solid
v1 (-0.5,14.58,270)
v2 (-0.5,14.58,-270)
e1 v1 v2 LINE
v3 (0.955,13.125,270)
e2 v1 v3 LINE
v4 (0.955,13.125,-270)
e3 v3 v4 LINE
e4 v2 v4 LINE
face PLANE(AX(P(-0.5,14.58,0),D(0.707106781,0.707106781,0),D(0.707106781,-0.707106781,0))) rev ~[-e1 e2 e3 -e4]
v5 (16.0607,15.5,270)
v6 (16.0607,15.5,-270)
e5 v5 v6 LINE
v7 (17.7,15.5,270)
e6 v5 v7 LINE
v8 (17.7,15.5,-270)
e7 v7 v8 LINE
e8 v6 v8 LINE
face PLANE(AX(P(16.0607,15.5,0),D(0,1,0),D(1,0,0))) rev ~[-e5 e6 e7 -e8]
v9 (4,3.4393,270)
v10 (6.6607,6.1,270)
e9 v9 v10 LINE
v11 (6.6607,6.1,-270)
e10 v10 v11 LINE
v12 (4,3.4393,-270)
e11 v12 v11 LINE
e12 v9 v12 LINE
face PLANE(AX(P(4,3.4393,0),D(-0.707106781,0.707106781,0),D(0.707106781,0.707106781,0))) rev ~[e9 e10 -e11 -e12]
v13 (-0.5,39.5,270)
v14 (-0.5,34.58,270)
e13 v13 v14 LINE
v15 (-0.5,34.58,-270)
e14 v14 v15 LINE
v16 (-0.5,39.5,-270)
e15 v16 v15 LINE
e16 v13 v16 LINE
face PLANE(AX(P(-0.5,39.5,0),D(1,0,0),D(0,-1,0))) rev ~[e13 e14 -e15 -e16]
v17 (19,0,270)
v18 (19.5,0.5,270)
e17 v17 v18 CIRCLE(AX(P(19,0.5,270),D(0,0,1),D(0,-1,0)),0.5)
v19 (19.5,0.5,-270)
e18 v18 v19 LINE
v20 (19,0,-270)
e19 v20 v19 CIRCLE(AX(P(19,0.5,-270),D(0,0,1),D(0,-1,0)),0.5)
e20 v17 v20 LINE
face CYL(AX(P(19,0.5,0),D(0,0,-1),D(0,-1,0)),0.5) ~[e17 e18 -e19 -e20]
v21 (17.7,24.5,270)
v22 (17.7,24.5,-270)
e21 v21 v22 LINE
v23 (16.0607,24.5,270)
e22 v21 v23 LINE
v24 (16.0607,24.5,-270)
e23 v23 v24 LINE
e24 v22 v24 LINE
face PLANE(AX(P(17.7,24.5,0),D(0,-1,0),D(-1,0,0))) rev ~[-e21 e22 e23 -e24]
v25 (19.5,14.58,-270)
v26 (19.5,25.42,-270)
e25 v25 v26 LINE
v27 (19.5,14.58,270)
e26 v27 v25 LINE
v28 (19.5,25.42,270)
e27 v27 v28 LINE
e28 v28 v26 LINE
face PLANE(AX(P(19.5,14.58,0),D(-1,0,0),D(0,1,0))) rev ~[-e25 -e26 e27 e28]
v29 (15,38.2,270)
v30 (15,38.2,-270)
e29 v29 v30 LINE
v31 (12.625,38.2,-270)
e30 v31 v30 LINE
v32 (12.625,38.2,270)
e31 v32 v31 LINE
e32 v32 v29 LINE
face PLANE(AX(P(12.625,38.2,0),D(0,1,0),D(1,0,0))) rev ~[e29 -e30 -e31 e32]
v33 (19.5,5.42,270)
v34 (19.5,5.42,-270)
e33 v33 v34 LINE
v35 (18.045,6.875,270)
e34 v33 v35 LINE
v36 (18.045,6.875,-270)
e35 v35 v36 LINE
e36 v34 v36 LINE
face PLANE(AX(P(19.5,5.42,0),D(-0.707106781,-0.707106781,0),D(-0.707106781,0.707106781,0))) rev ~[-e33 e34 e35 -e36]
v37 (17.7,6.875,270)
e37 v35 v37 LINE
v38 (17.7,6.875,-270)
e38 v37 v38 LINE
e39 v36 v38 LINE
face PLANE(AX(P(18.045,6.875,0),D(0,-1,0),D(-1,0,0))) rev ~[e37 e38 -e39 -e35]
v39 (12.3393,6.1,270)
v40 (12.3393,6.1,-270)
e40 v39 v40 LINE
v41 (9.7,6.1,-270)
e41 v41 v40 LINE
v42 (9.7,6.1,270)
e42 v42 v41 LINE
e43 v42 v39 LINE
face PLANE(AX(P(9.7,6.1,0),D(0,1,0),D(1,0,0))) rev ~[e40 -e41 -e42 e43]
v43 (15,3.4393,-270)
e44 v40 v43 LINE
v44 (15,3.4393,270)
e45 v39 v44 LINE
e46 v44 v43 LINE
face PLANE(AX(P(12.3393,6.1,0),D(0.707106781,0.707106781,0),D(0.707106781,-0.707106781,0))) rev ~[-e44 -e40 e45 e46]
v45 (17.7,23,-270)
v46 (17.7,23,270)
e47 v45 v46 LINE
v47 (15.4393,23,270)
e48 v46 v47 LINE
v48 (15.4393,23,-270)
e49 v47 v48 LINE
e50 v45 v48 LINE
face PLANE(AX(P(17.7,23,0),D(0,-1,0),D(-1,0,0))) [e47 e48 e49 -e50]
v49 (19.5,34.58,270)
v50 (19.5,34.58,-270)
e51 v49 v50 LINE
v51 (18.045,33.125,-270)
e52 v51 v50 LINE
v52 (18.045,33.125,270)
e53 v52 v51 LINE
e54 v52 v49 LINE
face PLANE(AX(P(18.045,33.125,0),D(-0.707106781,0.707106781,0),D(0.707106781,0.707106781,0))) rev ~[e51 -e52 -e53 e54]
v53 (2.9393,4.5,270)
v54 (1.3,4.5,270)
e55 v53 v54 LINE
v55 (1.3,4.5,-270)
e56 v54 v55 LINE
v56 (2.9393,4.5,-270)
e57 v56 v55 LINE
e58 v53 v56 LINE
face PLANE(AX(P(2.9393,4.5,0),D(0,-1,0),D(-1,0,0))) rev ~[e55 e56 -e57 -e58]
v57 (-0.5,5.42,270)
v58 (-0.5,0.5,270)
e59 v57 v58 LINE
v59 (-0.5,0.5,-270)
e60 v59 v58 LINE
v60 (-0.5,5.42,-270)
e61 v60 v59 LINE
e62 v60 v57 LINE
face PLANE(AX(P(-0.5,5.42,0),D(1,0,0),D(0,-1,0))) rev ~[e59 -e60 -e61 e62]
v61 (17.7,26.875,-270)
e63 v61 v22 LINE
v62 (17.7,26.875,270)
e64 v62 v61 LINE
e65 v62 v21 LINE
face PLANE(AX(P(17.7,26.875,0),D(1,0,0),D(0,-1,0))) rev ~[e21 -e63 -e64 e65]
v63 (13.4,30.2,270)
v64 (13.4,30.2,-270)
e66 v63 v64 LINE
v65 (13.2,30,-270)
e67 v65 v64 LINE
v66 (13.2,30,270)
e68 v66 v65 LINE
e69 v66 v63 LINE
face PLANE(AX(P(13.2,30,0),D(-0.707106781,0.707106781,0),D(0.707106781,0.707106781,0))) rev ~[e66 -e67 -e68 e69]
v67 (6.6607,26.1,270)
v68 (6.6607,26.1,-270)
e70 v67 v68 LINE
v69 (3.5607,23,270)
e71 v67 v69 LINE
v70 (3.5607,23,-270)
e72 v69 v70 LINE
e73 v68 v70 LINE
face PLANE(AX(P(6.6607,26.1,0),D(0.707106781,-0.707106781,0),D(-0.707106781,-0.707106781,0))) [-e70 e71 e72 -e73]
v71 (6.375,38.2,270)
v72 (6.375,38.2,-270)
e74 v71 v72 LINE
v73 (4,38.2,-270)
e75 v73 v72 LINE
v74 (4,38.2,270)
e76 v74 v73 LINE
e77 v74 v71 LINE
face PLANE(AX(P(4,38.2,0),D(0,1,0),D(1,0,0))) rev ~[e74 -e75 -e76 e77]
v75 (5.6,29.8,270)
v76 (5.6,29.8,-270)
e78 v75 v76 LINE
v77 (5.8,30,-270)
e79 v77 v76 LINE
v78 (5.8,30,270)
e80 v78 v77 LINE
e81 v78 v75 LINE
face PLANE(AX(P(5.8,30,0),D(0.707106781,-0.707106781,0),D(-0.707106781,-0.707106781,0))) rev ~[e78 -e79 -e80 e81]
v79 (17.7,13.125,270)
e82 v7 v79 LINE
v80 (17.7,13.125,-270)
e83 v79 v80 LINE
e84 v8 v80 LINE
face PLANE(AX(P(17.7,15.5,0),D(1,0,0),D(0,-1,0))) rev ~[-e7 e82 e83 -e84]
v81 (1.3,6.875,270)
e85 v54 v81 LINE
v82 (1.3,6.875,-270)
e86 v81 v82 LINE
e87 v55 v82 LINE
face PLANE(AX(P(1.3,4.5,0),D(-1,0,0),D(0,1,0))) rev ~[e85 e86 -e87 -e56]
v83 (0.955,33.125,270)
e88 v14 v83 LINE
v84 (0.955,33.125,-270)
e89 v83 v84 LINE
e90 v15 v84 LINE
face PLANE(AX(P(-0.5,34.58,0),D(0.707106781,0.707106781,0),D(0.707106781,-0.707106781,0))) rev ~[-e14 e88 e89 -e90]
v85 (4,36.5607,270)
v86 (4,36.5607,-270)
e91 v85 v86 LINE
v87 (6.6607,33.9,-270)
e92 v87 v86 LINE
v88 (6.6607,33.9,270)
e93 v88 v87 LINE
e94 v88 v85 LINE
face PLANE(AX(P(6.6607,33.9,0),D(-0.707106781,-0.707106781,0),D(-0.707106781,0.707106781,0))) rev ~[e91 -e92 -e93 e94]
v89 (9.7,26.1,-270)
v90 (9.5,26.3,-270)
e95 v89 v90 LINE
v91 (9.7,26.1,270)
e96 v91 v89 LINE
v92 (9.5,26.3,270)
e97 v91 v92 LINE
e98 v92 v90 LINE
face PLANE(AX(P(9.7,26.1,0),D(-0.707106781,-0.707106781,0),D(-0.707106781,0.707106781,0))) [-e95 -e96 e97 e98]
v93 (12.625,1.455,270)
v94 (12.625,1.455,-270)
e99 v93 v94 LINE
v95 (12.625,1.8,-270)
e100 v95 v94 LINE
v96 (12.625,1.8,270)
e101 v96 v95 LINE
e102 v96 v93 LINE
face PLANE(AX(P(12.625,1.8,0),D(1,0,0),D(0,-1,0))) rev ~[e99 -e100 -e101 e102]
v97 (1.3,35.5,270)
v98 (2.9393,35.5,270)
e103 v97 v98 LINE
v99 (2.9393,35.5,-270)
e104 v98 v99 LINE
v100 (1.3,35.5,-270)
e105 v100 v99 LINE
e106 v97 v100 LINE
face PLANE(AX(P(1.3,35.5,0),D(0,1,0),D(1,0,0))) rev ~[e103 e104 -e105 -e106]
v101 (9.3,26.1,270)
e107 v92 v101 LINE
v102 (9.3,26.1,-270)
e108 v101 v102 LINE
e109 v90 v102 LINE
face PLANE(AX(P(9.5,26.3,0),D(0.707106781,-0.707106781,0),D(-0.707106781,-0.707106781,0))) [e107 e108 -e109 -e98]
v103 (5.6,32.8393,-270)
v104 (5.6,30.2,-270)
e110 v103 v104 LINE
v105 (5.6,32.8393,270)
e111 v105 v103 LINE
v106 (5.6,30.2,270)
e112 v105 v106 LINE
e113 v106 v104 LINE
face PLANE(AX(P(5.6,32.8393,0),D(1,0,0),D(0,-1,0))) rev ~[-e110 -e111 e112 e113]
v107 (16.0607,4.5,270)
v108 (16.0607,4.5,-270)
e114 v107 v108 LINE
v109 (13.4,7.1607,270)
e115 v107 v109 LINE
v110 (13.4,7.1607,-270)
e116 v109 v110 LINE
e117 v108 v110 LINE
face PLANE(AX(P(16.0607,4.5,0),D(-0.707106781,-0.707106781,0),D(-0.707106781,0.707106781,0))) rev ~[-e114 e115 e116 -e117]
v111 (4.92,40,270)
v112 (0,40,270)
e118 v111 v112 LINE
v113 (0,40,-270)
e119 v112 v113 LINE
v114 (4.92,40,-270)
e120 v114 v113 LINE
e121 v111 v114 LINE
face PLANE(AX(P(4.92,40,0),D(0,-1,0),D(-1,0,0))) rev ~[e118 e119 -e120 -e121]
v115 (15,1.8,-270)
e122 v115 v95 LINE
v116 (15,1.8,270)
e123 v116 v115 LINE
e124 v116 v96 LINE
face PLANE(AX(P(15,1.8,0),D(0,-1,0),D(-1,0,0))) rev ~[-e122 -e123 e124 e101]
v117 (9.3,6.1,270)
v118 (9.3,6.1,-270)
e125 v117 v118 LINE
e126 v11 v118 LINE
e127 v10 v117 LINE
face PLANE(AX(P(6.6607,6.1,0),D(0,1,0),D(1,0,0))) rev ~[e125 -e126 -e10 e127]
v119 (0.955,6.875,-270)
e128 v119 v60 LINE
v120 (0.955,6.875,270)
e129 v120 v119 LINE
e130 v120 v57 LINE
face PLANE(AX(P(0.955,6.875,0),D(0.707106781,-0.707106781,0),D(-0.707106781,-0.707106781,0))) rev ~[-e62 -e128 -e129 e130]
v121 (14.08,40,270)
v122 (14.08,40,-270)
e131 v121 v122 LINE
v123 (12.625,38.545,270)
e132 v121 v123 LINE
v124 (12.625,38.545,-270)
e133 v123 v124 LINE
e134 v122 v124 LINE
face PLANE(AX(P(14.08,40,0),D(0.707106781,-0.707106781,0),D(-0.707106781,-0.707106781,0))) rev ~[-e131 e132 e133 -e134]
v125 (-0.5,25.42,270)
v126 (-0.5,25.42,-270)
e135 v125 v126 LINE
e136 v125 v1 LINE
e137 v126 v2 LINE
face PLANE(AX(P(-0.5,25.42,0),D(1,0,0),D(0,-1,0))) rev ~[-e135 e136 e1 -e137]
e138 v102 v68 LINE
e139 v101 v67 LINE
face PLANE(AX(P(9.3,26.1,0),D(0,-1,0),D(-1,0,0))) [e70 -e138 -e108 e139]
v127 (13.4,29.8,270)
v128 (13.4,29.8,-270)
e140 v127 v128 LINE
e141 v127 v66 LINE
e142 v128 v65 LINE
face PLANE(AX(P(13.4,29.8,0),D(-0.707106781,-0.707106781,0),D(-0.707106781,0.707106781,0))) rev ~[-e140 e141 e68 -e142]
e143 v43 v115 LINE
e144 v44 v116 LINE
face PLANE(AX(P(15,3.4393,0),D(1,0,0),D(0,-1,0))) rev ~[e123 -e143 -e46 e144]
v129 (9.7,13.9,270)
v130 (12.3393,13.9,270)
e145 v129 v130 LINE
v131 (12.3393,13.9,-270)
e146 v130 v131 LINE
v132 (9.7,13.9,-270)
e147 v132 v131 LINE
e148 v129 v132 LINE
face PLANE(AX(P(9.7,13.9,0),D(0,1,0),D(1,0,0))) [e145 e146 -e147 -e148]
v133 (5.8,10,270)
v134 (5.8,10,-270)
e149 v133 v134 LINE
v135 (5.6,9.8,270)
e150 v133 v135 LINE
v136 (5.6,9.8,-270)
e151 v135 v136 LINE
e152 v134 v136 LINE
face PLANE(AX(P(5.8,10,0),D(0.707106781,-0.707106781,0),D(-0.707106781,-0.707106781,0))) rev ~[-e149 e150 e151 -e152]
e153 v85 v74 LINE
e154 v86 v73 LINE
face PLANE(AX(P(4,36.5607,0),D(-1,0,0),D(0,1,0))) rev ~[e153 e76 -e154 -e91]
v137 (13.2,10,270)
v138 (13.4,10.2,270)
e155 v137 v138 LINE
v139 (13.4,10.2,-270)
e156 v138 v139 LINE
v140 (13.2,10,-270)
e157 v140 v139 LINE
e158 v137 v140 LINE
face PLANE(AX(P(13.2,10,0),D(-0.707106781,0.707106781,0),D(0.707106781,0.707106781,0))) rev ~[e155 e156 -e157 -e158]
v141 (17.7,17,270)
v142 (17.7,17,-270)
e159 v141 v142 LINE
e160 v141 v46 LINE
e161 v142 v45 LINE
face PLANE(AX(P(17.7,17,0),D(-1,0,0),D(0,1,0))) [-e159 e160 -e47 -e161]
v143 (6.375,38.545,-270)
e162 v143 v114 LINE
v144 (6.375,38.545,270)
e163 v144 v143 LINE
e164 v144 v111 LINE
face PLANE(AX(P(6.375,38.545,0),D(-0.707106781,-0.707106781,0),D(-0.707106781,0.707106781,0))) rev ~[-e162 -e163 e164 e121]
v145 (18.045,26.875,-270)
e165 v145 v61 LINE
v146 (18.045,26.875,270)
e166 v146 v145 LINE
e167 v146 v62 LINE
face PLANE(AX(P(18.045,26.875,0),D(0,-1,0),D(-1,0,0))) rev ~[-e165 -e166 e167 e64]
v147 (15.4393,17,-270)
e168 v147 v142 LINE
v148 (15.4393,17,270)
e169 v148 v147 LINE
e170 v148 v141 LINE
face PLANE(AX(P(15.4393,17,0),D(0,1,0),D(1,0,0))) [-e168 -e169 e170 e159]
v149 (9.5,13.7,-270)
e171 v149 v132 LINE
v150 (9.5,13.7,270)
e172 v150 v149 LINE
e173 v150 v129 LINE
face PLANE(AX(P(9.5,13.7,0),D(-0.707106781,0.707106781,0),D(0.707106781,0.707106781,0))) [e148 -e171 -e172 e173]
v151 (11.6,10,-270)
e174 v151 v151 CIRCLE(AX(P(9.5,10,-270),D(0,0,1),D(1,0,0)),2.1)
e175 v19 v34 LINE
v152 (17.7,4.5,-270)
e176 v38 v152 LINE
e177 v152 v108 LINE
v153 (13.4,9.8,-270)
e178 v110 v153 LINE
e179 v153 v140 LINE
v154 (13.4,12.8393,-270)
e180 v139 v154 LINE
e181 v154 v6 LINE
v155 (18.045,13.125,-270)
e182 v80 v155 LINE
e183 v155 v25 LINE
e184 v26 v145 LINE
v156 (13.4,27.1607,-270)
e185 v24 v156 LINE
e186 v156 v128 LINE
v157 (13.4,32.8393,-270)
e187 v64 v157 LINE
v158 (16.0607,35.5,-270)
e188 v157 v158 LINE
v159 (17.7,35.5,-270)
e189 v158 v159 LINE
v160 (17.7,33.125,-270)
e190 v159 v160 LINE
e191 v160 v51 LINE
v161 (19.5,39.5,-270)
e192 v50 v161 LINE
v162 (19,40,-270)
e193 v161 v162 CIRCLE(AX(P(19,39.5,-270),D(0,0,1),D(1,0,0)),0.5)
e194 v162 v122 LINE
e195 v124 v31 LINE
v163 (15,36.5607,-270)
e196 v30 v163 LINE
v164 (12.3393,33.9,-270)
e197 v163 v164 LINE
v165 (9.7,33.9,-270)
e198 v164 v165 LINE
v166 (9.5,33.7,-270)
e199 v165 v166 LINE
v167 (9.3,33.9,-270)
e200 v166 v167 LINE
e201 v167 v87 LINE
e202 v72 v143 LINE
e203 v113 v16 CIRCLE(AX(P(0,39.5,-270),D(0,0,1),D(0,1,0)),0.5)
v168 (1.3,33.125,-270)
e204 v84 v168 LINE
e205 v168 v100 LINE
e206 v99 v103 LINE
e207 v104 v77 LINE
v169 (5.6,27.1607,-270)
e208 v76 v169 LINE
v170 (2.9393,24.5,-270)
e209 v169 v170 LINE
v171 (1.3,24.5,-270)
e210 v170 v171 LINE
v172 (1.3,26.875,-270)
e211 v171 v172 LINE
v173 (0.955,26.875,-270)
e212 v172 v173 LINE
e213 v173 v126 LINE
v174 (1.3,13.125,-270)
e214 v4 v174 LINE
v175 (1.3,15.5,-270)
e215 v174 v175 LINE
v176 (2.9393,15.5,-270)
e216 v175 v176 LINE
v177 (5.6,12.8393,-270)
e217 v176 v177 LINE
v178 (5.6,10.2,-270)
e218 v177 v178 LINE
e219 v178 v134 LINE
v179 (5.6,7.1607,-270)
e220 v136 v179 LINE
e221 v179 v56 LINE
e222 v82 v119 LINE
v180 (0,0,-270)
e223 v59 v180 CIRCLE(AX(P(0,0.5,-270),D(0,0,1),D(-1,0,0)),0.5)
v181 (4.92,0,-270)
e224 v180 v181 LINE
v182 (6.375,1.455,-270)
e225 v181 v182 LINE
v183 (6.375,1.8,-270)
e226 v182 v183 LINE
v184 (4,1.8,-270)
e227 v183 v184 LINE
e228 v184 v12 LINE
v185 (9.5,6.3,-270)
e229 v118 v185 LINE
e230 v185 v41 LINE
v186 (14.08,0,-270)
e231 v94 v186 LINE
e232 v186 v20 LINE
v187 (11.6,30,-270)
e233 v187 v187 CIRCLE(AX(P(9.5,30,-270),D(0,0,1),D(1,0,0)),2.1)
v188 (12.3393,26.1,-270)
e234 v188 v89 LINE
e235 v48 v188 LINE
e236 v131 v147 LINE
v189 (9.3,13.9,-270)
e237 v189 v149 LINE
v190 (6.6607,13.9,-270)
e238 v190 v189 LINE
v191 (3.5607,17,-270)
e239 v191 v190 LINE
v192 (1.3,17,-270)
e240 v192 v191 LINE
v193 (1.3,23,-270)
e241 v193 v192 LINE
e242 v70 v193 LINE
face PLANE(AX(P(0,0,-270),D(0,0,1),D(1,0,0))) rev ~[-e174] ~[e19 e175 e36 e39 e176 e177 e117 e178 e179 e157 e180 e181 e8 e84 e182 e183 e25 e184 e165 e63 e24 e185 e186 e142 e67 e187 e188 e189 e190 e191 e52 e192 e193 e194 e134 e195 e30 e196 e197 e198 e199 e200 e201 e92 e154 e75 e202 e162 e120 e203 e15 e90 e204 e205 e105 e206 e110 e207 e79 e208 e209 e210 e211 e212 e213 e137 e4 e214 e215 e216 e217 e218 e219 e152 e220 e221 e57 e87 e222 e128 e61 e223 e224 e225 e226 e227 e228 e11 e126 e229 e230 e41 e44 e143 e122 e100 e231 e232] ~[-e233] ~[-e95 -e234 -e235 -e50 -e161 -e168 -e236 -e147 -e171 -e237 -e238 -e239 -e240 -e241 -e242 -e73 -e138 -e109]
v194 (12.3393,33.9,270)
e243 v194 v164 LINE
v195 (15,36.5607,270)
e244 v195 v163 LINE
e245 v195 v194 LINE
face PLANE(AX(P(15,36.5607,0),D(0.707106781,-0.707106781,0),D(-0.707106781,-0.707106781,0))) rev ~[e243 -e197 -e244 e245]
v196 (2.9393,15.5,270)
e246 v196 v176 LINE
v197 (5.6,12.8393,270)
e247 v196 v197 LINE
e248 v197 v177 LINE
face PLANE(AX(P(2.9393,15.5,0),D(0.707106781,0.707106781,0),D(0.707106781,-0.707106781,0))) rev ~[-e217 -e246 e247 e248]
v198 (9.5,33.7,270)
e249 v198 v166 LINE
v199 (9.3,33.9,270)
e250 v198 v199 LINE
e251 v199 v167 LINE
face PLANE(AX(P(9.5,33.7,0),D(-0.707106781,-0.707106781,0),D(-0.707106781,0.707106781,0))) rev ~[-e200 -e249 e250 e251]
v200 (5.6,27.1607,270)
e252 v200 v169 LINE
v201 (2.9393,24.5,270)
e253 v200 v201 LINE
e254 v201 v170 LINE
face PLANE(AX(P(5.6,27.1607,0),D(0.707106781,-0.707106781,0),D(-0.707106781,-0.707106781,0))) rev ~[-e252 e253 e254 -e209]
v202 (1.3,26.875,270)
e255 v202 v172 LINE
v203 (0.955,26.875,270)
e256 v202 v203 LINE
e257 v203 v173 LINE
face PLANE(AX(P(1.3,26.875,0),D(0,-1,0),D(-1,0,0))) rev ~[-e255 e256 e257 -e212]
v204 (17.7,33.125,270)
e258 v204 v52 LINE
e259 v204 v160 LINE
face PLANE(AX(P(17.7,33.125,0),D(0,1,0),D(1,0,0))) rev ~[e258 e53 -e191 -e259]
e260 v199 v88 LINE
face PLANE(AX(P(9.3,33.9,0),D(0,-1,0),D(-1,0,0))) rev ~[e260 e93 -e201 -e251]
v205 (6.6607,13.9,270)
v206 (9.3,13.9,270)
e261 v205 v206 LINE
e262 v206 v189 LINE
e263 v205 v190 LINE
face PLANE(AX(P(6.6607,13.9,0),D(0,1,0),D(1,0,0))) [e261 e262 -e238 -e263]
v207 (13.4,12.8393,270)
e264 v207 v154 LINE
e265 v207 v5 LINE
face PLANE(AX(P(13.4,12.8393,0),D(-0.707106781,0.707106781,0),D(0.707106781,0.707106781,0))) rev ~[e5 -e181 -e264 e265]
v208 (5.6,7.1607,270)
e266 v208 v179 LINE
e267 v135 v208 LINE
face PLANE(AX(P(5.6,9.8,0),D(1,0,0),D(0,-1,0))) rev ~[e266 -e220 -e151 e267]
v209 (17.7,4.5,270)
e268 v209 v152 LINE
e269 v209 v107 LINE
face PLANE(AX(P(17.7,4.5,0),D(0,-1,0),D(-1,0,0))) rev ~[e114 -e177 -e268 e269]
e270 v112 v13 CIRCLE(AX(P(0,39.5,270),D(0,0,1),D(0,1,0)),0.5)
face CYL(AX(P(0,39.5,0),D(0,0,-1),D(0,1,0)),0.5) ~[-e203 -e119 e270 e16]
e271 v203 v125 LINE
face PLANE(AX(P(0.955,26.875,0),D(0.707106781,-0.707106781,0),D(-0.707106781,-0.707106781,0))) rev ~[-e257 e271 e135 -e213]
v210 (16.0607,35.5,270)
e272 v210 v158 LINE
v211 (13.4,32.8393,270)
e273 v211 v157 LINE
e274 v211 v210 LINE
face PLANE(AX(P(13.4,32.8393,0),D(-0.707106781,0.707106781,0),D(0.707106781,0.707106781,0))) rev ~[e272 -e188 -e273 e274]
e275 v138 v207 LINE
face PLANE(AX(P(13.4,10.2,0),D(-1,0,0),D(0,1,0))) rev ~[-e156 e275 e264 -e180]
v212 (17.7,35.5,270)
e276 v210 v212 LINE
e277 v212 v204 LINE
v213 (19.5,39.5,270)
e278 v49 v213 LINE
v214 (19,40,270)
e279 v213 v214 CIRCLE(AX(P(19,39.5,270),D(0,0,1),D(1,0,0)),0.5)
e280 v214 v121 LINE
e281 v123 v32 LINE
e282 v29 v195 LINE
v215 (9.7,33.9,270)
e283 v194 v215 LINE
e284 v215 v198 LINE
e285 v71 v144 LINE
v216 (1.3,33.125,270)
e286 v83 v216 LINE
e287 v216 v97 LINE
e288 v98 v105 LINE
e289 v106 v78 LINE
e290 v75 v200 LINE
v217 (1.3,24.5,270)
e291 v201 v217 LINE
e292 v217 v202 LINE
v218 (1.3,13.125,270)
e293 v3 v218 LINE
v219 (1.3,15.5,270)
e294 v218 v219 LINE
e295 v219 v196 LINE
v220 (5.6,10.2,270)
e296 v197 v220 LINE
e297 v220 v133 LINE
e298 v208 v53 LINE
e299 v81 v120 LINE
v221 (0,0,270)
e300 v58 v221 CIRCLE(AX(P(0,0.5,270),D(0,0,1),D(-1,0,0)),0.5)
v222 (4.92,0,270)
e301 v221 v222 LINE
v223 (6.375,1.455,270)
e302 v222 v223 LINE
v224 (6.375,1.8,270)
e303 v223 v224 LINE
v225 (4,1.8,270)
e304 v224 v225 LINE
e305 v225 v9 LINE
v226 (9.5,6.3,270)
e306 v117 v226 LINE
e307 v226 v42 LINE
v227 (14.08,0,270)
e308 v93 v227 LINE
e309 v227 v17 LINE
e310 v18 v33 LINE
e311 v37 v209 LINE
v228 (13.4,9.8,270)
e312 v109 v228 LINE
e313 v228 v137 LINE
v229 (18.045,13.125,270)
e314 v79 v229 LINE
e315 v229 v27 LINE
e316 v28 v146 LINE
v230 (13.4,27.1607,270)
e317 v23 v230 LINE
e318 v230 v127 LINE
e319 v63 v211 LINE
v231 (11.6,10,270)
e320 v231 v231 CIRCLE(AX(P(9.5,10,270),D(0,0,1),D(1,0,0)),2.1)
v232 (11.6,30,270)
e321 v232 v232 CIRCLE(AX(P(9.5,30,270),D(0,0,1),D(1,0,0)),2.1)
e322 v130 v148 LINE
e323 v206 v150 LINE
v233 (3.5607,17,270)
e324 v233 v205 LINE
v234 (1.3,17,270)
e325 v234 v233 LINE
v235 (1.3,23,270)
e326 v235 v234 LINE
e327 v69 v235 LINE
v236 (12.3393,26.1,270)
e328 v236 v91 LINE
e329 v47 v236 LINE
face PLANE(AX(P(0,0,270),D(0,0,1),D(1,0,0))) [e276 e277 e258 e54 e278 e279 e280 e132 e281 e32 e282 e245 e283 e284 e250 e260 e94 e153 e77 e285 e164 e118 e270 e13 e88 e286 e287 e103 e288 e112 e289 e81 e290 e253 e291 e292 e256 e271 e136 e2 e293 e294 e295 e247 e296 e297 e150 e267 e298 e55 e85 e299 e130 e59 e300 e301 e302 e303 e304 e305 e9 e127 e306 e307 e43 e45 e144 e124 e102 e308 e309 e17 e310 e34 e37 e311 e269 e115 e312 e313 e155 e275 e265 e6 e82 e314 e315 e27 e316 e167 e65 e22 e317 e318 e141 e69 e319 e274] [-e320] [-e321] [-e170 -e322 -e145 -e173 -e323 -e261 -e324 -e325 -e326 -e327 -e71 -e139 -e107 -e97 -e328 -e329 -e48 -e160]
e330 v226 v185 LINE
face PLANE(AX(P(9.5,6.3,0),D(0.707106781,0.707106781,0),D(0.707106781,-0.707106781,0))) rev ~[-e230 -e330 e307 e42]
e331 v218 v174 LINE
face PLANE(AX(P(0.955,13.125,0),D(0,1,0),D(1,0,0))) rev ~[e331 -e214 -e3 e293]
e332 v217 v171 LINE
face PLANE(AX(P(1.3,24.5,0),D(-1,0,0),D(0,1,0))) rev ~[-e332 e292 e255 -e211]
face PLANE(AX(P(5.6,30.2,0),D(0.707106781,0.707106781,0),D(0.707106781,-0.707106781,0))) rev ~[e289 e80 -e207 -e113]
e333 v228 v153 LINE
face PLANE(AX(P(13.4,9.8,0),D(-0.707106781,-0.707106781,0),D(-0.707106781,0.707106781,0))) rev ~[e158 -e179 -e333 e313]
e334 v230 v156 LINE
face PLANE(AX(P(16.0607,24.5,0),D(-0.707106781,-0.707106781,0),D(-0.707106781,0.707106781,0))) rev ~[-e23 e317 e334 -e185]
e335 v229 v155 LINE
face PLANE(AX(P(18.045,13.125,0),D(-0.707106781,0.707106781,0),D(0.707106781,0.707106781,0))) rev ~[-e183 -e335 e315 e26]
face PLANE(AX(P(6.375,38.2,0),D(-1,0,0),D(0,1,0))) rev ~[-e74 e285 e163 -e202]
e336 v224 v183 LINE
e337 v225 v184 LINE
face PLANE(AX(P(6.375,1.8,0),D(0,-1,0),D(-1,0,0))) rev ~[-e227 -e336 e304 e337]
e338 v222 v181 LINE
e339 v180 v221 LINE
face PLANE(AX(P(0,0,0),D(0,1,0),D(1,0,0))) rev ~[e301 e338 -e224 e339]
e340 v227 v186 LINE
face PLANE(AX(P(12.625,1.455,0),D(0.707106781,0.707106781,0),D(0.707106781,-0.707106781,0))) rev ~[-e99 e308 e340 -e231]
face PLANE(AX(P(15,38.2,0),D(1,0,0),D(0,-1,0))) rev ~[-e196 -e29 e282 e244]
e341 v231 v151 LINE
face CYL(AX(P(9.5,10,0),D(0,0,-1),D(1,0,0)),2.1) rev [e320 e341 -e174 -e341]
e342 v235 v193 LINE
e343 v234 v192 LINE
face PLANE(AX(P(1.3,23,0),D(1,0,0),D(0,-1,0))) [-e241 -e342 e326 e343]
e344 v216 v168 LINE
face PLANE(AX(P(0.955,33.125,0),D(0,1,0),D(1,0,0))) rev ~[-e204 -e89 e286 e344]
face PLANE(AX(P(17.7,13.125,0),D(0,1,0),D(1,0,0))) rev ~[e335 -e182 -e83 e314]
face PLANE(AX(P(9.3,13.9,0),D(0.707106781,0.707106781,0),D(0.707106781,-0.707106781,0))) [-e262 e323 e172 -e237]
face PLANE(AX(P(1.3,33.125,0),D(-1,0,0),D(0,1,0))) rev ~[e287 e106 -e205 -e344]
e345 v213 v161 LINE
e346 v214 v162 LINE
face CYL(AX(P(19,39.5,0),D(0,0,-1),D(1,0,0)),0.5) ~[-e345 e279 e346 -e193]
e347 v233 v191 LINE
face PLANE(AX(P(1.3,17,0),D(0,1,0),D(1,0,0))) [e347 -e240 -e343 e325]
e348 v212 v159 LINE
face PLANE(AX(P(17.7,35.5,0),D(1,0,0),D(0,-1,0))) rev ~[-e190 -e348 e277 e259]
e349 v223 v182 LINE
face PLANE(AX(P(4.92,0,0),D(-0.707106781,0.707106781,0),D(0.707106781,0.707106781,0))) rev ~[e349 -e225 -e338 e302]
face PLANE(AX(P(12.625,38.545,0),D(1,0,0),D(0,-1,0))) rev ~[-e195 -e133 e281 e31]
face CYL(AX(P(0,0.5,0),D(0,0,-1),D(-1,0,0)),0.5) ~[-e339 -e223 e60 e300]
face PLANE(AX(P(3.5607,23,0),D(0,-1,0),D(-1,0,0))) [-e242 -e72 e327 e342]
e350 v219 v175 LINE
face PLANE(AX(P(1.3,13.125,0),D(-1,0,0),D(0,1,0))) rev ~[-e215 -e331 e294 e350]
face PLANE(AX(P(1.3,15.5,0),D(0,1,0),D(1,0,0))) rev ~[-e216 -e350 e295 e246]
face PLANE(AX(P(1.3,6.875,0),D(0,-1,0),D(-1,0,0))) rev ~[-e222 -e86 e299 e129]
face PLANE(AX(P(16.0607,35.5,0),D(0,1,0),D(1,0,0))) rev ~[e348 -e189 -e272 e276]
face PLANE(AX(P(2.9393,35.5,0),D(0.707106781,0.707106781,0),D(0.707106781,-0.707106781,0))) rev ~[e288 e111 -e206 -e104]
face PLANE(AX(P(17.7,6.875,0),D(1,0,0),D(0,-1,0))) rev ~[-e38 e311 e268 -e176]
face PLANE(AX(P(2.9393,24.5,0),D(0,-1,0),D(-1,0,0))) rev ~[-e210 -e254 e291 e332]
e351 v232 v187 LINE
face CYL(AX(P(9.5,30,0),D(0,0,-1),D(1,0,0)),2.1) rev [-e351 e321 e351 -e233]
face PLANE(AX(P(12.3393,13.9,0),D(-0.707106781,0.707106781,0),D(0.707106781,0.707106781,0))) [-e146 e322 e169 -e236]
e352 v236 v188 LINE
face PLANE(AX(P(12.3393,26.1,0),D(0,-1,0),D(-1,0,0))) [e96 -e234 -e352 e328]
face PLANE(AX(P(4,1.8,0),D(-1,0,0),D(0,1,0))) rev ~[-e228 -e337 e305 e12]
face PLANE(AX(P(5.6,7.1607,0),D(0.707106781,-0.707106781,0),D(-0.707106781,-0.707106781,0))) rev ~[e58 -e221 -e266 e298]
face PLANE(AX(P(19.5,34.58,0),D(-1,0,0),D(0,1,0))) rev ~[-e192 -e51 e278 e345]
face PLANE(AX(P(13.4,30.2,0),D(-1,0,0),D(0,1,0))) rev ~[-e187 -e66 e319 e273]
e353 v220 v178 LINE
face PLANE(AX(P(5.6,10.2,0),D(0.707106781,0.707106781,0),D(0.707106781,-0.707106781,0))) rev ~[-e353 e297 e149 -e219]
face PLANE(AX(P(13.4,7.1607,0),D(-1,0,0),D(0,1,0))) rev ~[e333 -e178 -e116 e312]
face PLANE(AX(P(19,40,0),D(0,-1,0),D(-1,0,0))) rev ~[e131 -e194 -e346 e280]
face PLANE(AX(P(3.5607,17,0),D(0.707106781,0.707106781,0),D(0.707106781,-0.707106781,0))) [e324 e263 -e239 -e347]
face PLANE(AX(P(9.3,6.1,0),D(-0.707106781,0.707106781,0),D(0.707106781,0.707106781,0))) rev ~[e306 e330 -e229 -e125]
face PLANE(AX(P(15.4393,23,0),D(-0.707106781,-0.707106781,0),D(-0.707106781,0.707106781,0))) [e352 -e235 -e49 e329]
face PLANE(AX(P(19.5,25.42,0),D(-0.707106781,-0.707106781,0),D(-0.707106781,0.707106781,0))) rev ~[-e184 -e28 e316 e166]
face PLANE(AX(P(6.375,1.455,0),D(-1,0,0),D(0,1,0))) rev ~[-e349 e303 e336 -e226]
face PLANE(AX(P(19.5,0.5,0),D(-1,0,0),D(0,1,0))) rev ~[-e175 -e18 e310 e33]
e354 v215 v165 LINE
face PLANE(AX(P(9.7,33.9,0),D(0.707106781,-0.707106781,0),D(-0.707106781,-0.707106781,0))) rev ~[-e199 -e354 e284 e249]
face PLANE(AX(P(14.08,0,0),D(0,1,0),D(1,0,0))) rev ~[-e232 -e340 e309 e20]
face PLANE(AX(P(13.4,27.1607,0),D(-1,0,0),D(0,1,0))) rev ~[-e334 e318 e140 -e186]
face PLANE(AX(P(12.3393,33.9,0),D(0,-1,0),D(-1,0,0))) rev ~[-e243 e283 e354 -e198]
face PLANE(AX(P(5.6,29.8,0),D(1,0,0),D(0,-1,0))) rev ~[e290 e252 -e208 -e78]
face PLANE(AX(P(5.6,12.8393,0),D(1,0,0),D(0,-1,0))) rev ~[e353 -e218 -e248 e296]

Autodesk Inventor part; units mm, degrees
ref_plane "YZ Plane" through (0, 0, 0) normal (1, 0, 0) x (0, 1, 0)
ref_plane "XZ Plane" through (0, 0, 0) normal (0, 1, 0) x (-1, 0, 0)
ref_plane "XY Plane" through (0, 0, 0) normal (0, 0, 1) x (1, 0, 0)
sketch "Sketch1" plane through (0, 0, 0) normal (0, 0, 1) x (1, 0, 0)
  line L0 (-0.5, 5.42) -> (-0.5, 0.5)
  arc A0 (-0.5, 0.5) -> (0, 0) centre (0, 0.5) ccw
  line L1 (0, 0) -> (4.92, 0)
  line L2 (4.92, 0) -> (6.375, 1.455)
  line L3 (6.375, 1.455) -> (6.375, 1.8)
  line L4 (6.375, 1.8) -> (4, 1.8)
  line L5 (4, 1.8) -> (4, 3.4393)
  line L6 (4, 3.4393) -> (6.6607, 6.1)
  line L7 (6.6607, 6.1) -> (9.3, 6.1)
  line L8 (9.3, 6.1) -> (9.5, 6.3)
  line L9 (9.5, 6.3) -> (9.7, 6.1)
  line L10 (9.7, 6.1) -> (12.3393, 6.1)
  line L11 (12.3393, 6.1) -> (15, 3.4393)
  line L12 (15, 3.4393) -> (15, 1.8)
  line L13 (15, 1.8) -> (12.625, 1.8)
  line L14 (12.625, 1.8) -> (12.625, 1.455)
  line L15 (12.625, 1.455) -> (14.08, 0)
  line L16 (14.08, 0) -> (19, 0)
  arc A1 (19, 0) -> (19.5, 0.5) centre (19, 0.5) ccw
  line L17 (19.5, 0.5) -> (19.5, 5.42)
  line L18 (19.5, 5.42) -> (18.045, 6.875)
  line L19 (18.045, 6.875) -> (17.7, 6.875)
  line L20 (17.7, 6.875) -> (17.7, 4.5)
  line L21 (17.7, 4.5) -> (16.0607, 4.5)
  line L22 (16.0607, 4.5) -> (13.4, 7.1607)
  line L23 (13.4, 7.1607) -> (13.4, 9.8)
  line L24 (13.4, 9.8) -> (13.2, 10)
  line L25 (13.2, 10) -> (13.4, 10.2)
  line L26 (13.4, 10.2) -> (13.4, 12.8393)
  line L27 (13.4, 12.8393) -> (16.0607, 15.5)
  line L28 (16.0607, 15.5) -> (17.7, 15.5)
  line L29 (17.7, 15.5) -> (17.7, 13.125)
  line L30 (17.7, 13.125) -> (18.045, 13.125)
  line L31 (18.045, 13.125) -> (19.5, 14.58)
  line L32 (19.5, 14.58) -> (19.5, 25.42)
  line L33 (19.5, 25.42) -> (18.045, 26.875)
  line L34 (18.045, 26.875) -> (17.7, 26.875)
  line L35 (17.7, 26.875) -> (17.7, 24.5)
  line L36 (17.7, 24.5) -> (16.0607, 24.5)
  line L37 (16.0607, 24.5) -> (13.4, 27.1607)
  line L38 (13.4, 27.1607) -> (13.4, 29.8)
  line L39 (13.4, 29.8) -> (13.2, 30)
  line L40 (13.2, 30) -> (13.4, 30.2)
  line L41 (13.4, 30.2) -> (13.4, 32.8393)
  line L42 (13.4, 32.8393) -> (16.0607, 35.5)
  line L43 (16.0607, 35.5) -> (17.7, 35.5)
  line L44 (17.7, 35.5) -> (17.7, 33.125)
  line L45 (17.7, 33.125) -> (18.045, 33.125)
  line L46 (18.045, 33.125) -> (19.5, 34.58)
  line L47 (19.5, 34.58) -> (19.5, 39.5)
  arc A2 (19.5, 39.5) -> (19, 40) centre (19, 39.5) ccw
  line L48 (19, 40) -> (14.08, 40)
  line L49 (14.08, 40) -> (12.625, 38.545)
  line L50 (12.625, 38.545) -> (12.625, 38.2)
  line L51 (12.625, 38.2) -> (15, 38.2)
  line L52 (15, 38.2) -> (15, 36.5607)
  line L53 (15, 36.5607) -> (12.3393, 33.9)
  line L54 (12.3393, 33.9) -> (9.7, 33.9)
  line L55 (9.7, 33.9) -> (9.5, 33.7)
  line L56 (9.5, 33.7) -> (9.3, 33.9)
  line L57 (9.3, 33.9) -> (6.6607, 33.9)
  line L58 (6.6607, 33.9) -> (4, 36.5607)
  line L59 (4, 36.5607) -> (4, 38.2)
  line L60 (4, 38.2) -> (6.375, 38.2)
  line L61 (6.375, 38.2) -> (6.375, 38.545)
  line L62 (6.375, 38.545) -> (4.92, 40)
  line L63 (4.92, 40) -> (0, 40)
  arc A3 (0, 40) -> (-0.5, 39.5) centre (0, 39.5) ccw
  line L64 (-0.5, 39.5) -> (-0.5, 34.58)
  line L65 (-0.5, 34.58) -> (0.955, 33.125)
  line L66 (0.955, 33.125) -> (1.3, 33.125)
  line L67 (1.3, 33.125) -> (1.3, 35.5)
  line L68 (1.3, 35.5) -> (2.9393, 35.5)
  line L69 (2.9393, 35.5) -> (5.6, 32.8393)
  line L70 (5.6, 32.8393) -> (5.6, 30.2)
  line L71 (5.6, 30.2) -> (5.8, 30)
  line L72 (5.8, 30) -> (5.6, 29.8)
  line L73 (5.6, 29.8) -> (5.6, 27.1607)
  line L74 (5.6, 27.1607) -> (2.9393, 24.5)
  line L75 (2.9393, 24.5) -> (1.3, 24.5)
  line L76 (1.3, 24.5) -> (1.3, 26.875)
  line L77 (1.3, 26.875) -> (0.955, 26.875)
  line L78 (0.955, 26.875) -> (-0.5, 25.42)
  line L79 (-0.5, 25.42) -> (-0.5, 14.58)
  line L80 (-0.5, 14.58) -> (0.955, 13.125)
  line L81 (0.955, 13.125) -> (1.3, 13.125)
  line L82 (1.3, 13.125) -> (1.3, 15.5)
  line L83 (1.3, 15.5) -> (2.9393, 15.5)
  line L84 (2.9393, 15.5) -> (5.6, 12.8393)
  line L85 (5.6, 12.8393) -> (5.6, 10.2)
  line L86 (5.6, 10.2) -> (5.8, 10)
  line L87 (5.8, 10) -> (5.6, 9.8)
  line L88 (5.6, 9.8) -> (5.6, 7.1607)
  line L89 (5.6, 7.1607) -> (2.9393, 4.5)
  line L90 (2.9393, 4.5) -> (1.3, 4.5)
  line L91 (1.3, 4.5) -> (1.3, 6.875)
  line L92 (1.3, 6.875) -> (0.955, 6.875)
  line L93 (0.955, 6.875) -> (-0.5, 5.42)
  line L94 (17.7, 23) -> (15.4393, 23)
  line L95 (17.7, 17) -> (17.7, 23)
  line L96 (15.4393, 17) -> (17.7, 17)
  line L97 (12.3393, 13.9) -> (15.4393, 17)
  line L98 (9.7, 13.9) -> (12.3393, 13.9)
  line L99 (9.5, 13.7) -> (9.7, 13.9)
  line L100 (9.3, 13.9) -> (9.5, 13.7)
  line L101 (6.6607, 13.9) -> (9.3, 13.9)
  line L102 (3.5607, 17) -> (6.6607, 13.9)
  line L103 (1.3, 17) -> (3.5607, 17)
  line L104 (1.3, 23) -> (1.3, 17)
  line L105 (3.5607, 23) -> (1.3, 23)
  line L106 (6.6607, 26.1) -> (3.5607, 23)
  line L107 (9.3, 26.1) -> (6.6607, 26.1)
  line L108 (9.5, 26.3) -> (9.3, 26.1)
  line L109 (9.7, 26.1) -> (9.5, 26.3)
  line L110 (12.3393, 26.1) -> (9.7, 26.1)
  line L111 (15.4393, 23) -> (12.3393, 26.1)
  circle A4 centre (9.5, 30) radius 2.1
  circle A5 centre (9.5, 10) radius 2.1
  point P0 (9.5, 20)
extrude "Extrusion1" add sketch "Sketch1" along normal mid plane 540
properties part number "0008-10-1020 V slot profiles" material "Aluminum 6061-AHC"
